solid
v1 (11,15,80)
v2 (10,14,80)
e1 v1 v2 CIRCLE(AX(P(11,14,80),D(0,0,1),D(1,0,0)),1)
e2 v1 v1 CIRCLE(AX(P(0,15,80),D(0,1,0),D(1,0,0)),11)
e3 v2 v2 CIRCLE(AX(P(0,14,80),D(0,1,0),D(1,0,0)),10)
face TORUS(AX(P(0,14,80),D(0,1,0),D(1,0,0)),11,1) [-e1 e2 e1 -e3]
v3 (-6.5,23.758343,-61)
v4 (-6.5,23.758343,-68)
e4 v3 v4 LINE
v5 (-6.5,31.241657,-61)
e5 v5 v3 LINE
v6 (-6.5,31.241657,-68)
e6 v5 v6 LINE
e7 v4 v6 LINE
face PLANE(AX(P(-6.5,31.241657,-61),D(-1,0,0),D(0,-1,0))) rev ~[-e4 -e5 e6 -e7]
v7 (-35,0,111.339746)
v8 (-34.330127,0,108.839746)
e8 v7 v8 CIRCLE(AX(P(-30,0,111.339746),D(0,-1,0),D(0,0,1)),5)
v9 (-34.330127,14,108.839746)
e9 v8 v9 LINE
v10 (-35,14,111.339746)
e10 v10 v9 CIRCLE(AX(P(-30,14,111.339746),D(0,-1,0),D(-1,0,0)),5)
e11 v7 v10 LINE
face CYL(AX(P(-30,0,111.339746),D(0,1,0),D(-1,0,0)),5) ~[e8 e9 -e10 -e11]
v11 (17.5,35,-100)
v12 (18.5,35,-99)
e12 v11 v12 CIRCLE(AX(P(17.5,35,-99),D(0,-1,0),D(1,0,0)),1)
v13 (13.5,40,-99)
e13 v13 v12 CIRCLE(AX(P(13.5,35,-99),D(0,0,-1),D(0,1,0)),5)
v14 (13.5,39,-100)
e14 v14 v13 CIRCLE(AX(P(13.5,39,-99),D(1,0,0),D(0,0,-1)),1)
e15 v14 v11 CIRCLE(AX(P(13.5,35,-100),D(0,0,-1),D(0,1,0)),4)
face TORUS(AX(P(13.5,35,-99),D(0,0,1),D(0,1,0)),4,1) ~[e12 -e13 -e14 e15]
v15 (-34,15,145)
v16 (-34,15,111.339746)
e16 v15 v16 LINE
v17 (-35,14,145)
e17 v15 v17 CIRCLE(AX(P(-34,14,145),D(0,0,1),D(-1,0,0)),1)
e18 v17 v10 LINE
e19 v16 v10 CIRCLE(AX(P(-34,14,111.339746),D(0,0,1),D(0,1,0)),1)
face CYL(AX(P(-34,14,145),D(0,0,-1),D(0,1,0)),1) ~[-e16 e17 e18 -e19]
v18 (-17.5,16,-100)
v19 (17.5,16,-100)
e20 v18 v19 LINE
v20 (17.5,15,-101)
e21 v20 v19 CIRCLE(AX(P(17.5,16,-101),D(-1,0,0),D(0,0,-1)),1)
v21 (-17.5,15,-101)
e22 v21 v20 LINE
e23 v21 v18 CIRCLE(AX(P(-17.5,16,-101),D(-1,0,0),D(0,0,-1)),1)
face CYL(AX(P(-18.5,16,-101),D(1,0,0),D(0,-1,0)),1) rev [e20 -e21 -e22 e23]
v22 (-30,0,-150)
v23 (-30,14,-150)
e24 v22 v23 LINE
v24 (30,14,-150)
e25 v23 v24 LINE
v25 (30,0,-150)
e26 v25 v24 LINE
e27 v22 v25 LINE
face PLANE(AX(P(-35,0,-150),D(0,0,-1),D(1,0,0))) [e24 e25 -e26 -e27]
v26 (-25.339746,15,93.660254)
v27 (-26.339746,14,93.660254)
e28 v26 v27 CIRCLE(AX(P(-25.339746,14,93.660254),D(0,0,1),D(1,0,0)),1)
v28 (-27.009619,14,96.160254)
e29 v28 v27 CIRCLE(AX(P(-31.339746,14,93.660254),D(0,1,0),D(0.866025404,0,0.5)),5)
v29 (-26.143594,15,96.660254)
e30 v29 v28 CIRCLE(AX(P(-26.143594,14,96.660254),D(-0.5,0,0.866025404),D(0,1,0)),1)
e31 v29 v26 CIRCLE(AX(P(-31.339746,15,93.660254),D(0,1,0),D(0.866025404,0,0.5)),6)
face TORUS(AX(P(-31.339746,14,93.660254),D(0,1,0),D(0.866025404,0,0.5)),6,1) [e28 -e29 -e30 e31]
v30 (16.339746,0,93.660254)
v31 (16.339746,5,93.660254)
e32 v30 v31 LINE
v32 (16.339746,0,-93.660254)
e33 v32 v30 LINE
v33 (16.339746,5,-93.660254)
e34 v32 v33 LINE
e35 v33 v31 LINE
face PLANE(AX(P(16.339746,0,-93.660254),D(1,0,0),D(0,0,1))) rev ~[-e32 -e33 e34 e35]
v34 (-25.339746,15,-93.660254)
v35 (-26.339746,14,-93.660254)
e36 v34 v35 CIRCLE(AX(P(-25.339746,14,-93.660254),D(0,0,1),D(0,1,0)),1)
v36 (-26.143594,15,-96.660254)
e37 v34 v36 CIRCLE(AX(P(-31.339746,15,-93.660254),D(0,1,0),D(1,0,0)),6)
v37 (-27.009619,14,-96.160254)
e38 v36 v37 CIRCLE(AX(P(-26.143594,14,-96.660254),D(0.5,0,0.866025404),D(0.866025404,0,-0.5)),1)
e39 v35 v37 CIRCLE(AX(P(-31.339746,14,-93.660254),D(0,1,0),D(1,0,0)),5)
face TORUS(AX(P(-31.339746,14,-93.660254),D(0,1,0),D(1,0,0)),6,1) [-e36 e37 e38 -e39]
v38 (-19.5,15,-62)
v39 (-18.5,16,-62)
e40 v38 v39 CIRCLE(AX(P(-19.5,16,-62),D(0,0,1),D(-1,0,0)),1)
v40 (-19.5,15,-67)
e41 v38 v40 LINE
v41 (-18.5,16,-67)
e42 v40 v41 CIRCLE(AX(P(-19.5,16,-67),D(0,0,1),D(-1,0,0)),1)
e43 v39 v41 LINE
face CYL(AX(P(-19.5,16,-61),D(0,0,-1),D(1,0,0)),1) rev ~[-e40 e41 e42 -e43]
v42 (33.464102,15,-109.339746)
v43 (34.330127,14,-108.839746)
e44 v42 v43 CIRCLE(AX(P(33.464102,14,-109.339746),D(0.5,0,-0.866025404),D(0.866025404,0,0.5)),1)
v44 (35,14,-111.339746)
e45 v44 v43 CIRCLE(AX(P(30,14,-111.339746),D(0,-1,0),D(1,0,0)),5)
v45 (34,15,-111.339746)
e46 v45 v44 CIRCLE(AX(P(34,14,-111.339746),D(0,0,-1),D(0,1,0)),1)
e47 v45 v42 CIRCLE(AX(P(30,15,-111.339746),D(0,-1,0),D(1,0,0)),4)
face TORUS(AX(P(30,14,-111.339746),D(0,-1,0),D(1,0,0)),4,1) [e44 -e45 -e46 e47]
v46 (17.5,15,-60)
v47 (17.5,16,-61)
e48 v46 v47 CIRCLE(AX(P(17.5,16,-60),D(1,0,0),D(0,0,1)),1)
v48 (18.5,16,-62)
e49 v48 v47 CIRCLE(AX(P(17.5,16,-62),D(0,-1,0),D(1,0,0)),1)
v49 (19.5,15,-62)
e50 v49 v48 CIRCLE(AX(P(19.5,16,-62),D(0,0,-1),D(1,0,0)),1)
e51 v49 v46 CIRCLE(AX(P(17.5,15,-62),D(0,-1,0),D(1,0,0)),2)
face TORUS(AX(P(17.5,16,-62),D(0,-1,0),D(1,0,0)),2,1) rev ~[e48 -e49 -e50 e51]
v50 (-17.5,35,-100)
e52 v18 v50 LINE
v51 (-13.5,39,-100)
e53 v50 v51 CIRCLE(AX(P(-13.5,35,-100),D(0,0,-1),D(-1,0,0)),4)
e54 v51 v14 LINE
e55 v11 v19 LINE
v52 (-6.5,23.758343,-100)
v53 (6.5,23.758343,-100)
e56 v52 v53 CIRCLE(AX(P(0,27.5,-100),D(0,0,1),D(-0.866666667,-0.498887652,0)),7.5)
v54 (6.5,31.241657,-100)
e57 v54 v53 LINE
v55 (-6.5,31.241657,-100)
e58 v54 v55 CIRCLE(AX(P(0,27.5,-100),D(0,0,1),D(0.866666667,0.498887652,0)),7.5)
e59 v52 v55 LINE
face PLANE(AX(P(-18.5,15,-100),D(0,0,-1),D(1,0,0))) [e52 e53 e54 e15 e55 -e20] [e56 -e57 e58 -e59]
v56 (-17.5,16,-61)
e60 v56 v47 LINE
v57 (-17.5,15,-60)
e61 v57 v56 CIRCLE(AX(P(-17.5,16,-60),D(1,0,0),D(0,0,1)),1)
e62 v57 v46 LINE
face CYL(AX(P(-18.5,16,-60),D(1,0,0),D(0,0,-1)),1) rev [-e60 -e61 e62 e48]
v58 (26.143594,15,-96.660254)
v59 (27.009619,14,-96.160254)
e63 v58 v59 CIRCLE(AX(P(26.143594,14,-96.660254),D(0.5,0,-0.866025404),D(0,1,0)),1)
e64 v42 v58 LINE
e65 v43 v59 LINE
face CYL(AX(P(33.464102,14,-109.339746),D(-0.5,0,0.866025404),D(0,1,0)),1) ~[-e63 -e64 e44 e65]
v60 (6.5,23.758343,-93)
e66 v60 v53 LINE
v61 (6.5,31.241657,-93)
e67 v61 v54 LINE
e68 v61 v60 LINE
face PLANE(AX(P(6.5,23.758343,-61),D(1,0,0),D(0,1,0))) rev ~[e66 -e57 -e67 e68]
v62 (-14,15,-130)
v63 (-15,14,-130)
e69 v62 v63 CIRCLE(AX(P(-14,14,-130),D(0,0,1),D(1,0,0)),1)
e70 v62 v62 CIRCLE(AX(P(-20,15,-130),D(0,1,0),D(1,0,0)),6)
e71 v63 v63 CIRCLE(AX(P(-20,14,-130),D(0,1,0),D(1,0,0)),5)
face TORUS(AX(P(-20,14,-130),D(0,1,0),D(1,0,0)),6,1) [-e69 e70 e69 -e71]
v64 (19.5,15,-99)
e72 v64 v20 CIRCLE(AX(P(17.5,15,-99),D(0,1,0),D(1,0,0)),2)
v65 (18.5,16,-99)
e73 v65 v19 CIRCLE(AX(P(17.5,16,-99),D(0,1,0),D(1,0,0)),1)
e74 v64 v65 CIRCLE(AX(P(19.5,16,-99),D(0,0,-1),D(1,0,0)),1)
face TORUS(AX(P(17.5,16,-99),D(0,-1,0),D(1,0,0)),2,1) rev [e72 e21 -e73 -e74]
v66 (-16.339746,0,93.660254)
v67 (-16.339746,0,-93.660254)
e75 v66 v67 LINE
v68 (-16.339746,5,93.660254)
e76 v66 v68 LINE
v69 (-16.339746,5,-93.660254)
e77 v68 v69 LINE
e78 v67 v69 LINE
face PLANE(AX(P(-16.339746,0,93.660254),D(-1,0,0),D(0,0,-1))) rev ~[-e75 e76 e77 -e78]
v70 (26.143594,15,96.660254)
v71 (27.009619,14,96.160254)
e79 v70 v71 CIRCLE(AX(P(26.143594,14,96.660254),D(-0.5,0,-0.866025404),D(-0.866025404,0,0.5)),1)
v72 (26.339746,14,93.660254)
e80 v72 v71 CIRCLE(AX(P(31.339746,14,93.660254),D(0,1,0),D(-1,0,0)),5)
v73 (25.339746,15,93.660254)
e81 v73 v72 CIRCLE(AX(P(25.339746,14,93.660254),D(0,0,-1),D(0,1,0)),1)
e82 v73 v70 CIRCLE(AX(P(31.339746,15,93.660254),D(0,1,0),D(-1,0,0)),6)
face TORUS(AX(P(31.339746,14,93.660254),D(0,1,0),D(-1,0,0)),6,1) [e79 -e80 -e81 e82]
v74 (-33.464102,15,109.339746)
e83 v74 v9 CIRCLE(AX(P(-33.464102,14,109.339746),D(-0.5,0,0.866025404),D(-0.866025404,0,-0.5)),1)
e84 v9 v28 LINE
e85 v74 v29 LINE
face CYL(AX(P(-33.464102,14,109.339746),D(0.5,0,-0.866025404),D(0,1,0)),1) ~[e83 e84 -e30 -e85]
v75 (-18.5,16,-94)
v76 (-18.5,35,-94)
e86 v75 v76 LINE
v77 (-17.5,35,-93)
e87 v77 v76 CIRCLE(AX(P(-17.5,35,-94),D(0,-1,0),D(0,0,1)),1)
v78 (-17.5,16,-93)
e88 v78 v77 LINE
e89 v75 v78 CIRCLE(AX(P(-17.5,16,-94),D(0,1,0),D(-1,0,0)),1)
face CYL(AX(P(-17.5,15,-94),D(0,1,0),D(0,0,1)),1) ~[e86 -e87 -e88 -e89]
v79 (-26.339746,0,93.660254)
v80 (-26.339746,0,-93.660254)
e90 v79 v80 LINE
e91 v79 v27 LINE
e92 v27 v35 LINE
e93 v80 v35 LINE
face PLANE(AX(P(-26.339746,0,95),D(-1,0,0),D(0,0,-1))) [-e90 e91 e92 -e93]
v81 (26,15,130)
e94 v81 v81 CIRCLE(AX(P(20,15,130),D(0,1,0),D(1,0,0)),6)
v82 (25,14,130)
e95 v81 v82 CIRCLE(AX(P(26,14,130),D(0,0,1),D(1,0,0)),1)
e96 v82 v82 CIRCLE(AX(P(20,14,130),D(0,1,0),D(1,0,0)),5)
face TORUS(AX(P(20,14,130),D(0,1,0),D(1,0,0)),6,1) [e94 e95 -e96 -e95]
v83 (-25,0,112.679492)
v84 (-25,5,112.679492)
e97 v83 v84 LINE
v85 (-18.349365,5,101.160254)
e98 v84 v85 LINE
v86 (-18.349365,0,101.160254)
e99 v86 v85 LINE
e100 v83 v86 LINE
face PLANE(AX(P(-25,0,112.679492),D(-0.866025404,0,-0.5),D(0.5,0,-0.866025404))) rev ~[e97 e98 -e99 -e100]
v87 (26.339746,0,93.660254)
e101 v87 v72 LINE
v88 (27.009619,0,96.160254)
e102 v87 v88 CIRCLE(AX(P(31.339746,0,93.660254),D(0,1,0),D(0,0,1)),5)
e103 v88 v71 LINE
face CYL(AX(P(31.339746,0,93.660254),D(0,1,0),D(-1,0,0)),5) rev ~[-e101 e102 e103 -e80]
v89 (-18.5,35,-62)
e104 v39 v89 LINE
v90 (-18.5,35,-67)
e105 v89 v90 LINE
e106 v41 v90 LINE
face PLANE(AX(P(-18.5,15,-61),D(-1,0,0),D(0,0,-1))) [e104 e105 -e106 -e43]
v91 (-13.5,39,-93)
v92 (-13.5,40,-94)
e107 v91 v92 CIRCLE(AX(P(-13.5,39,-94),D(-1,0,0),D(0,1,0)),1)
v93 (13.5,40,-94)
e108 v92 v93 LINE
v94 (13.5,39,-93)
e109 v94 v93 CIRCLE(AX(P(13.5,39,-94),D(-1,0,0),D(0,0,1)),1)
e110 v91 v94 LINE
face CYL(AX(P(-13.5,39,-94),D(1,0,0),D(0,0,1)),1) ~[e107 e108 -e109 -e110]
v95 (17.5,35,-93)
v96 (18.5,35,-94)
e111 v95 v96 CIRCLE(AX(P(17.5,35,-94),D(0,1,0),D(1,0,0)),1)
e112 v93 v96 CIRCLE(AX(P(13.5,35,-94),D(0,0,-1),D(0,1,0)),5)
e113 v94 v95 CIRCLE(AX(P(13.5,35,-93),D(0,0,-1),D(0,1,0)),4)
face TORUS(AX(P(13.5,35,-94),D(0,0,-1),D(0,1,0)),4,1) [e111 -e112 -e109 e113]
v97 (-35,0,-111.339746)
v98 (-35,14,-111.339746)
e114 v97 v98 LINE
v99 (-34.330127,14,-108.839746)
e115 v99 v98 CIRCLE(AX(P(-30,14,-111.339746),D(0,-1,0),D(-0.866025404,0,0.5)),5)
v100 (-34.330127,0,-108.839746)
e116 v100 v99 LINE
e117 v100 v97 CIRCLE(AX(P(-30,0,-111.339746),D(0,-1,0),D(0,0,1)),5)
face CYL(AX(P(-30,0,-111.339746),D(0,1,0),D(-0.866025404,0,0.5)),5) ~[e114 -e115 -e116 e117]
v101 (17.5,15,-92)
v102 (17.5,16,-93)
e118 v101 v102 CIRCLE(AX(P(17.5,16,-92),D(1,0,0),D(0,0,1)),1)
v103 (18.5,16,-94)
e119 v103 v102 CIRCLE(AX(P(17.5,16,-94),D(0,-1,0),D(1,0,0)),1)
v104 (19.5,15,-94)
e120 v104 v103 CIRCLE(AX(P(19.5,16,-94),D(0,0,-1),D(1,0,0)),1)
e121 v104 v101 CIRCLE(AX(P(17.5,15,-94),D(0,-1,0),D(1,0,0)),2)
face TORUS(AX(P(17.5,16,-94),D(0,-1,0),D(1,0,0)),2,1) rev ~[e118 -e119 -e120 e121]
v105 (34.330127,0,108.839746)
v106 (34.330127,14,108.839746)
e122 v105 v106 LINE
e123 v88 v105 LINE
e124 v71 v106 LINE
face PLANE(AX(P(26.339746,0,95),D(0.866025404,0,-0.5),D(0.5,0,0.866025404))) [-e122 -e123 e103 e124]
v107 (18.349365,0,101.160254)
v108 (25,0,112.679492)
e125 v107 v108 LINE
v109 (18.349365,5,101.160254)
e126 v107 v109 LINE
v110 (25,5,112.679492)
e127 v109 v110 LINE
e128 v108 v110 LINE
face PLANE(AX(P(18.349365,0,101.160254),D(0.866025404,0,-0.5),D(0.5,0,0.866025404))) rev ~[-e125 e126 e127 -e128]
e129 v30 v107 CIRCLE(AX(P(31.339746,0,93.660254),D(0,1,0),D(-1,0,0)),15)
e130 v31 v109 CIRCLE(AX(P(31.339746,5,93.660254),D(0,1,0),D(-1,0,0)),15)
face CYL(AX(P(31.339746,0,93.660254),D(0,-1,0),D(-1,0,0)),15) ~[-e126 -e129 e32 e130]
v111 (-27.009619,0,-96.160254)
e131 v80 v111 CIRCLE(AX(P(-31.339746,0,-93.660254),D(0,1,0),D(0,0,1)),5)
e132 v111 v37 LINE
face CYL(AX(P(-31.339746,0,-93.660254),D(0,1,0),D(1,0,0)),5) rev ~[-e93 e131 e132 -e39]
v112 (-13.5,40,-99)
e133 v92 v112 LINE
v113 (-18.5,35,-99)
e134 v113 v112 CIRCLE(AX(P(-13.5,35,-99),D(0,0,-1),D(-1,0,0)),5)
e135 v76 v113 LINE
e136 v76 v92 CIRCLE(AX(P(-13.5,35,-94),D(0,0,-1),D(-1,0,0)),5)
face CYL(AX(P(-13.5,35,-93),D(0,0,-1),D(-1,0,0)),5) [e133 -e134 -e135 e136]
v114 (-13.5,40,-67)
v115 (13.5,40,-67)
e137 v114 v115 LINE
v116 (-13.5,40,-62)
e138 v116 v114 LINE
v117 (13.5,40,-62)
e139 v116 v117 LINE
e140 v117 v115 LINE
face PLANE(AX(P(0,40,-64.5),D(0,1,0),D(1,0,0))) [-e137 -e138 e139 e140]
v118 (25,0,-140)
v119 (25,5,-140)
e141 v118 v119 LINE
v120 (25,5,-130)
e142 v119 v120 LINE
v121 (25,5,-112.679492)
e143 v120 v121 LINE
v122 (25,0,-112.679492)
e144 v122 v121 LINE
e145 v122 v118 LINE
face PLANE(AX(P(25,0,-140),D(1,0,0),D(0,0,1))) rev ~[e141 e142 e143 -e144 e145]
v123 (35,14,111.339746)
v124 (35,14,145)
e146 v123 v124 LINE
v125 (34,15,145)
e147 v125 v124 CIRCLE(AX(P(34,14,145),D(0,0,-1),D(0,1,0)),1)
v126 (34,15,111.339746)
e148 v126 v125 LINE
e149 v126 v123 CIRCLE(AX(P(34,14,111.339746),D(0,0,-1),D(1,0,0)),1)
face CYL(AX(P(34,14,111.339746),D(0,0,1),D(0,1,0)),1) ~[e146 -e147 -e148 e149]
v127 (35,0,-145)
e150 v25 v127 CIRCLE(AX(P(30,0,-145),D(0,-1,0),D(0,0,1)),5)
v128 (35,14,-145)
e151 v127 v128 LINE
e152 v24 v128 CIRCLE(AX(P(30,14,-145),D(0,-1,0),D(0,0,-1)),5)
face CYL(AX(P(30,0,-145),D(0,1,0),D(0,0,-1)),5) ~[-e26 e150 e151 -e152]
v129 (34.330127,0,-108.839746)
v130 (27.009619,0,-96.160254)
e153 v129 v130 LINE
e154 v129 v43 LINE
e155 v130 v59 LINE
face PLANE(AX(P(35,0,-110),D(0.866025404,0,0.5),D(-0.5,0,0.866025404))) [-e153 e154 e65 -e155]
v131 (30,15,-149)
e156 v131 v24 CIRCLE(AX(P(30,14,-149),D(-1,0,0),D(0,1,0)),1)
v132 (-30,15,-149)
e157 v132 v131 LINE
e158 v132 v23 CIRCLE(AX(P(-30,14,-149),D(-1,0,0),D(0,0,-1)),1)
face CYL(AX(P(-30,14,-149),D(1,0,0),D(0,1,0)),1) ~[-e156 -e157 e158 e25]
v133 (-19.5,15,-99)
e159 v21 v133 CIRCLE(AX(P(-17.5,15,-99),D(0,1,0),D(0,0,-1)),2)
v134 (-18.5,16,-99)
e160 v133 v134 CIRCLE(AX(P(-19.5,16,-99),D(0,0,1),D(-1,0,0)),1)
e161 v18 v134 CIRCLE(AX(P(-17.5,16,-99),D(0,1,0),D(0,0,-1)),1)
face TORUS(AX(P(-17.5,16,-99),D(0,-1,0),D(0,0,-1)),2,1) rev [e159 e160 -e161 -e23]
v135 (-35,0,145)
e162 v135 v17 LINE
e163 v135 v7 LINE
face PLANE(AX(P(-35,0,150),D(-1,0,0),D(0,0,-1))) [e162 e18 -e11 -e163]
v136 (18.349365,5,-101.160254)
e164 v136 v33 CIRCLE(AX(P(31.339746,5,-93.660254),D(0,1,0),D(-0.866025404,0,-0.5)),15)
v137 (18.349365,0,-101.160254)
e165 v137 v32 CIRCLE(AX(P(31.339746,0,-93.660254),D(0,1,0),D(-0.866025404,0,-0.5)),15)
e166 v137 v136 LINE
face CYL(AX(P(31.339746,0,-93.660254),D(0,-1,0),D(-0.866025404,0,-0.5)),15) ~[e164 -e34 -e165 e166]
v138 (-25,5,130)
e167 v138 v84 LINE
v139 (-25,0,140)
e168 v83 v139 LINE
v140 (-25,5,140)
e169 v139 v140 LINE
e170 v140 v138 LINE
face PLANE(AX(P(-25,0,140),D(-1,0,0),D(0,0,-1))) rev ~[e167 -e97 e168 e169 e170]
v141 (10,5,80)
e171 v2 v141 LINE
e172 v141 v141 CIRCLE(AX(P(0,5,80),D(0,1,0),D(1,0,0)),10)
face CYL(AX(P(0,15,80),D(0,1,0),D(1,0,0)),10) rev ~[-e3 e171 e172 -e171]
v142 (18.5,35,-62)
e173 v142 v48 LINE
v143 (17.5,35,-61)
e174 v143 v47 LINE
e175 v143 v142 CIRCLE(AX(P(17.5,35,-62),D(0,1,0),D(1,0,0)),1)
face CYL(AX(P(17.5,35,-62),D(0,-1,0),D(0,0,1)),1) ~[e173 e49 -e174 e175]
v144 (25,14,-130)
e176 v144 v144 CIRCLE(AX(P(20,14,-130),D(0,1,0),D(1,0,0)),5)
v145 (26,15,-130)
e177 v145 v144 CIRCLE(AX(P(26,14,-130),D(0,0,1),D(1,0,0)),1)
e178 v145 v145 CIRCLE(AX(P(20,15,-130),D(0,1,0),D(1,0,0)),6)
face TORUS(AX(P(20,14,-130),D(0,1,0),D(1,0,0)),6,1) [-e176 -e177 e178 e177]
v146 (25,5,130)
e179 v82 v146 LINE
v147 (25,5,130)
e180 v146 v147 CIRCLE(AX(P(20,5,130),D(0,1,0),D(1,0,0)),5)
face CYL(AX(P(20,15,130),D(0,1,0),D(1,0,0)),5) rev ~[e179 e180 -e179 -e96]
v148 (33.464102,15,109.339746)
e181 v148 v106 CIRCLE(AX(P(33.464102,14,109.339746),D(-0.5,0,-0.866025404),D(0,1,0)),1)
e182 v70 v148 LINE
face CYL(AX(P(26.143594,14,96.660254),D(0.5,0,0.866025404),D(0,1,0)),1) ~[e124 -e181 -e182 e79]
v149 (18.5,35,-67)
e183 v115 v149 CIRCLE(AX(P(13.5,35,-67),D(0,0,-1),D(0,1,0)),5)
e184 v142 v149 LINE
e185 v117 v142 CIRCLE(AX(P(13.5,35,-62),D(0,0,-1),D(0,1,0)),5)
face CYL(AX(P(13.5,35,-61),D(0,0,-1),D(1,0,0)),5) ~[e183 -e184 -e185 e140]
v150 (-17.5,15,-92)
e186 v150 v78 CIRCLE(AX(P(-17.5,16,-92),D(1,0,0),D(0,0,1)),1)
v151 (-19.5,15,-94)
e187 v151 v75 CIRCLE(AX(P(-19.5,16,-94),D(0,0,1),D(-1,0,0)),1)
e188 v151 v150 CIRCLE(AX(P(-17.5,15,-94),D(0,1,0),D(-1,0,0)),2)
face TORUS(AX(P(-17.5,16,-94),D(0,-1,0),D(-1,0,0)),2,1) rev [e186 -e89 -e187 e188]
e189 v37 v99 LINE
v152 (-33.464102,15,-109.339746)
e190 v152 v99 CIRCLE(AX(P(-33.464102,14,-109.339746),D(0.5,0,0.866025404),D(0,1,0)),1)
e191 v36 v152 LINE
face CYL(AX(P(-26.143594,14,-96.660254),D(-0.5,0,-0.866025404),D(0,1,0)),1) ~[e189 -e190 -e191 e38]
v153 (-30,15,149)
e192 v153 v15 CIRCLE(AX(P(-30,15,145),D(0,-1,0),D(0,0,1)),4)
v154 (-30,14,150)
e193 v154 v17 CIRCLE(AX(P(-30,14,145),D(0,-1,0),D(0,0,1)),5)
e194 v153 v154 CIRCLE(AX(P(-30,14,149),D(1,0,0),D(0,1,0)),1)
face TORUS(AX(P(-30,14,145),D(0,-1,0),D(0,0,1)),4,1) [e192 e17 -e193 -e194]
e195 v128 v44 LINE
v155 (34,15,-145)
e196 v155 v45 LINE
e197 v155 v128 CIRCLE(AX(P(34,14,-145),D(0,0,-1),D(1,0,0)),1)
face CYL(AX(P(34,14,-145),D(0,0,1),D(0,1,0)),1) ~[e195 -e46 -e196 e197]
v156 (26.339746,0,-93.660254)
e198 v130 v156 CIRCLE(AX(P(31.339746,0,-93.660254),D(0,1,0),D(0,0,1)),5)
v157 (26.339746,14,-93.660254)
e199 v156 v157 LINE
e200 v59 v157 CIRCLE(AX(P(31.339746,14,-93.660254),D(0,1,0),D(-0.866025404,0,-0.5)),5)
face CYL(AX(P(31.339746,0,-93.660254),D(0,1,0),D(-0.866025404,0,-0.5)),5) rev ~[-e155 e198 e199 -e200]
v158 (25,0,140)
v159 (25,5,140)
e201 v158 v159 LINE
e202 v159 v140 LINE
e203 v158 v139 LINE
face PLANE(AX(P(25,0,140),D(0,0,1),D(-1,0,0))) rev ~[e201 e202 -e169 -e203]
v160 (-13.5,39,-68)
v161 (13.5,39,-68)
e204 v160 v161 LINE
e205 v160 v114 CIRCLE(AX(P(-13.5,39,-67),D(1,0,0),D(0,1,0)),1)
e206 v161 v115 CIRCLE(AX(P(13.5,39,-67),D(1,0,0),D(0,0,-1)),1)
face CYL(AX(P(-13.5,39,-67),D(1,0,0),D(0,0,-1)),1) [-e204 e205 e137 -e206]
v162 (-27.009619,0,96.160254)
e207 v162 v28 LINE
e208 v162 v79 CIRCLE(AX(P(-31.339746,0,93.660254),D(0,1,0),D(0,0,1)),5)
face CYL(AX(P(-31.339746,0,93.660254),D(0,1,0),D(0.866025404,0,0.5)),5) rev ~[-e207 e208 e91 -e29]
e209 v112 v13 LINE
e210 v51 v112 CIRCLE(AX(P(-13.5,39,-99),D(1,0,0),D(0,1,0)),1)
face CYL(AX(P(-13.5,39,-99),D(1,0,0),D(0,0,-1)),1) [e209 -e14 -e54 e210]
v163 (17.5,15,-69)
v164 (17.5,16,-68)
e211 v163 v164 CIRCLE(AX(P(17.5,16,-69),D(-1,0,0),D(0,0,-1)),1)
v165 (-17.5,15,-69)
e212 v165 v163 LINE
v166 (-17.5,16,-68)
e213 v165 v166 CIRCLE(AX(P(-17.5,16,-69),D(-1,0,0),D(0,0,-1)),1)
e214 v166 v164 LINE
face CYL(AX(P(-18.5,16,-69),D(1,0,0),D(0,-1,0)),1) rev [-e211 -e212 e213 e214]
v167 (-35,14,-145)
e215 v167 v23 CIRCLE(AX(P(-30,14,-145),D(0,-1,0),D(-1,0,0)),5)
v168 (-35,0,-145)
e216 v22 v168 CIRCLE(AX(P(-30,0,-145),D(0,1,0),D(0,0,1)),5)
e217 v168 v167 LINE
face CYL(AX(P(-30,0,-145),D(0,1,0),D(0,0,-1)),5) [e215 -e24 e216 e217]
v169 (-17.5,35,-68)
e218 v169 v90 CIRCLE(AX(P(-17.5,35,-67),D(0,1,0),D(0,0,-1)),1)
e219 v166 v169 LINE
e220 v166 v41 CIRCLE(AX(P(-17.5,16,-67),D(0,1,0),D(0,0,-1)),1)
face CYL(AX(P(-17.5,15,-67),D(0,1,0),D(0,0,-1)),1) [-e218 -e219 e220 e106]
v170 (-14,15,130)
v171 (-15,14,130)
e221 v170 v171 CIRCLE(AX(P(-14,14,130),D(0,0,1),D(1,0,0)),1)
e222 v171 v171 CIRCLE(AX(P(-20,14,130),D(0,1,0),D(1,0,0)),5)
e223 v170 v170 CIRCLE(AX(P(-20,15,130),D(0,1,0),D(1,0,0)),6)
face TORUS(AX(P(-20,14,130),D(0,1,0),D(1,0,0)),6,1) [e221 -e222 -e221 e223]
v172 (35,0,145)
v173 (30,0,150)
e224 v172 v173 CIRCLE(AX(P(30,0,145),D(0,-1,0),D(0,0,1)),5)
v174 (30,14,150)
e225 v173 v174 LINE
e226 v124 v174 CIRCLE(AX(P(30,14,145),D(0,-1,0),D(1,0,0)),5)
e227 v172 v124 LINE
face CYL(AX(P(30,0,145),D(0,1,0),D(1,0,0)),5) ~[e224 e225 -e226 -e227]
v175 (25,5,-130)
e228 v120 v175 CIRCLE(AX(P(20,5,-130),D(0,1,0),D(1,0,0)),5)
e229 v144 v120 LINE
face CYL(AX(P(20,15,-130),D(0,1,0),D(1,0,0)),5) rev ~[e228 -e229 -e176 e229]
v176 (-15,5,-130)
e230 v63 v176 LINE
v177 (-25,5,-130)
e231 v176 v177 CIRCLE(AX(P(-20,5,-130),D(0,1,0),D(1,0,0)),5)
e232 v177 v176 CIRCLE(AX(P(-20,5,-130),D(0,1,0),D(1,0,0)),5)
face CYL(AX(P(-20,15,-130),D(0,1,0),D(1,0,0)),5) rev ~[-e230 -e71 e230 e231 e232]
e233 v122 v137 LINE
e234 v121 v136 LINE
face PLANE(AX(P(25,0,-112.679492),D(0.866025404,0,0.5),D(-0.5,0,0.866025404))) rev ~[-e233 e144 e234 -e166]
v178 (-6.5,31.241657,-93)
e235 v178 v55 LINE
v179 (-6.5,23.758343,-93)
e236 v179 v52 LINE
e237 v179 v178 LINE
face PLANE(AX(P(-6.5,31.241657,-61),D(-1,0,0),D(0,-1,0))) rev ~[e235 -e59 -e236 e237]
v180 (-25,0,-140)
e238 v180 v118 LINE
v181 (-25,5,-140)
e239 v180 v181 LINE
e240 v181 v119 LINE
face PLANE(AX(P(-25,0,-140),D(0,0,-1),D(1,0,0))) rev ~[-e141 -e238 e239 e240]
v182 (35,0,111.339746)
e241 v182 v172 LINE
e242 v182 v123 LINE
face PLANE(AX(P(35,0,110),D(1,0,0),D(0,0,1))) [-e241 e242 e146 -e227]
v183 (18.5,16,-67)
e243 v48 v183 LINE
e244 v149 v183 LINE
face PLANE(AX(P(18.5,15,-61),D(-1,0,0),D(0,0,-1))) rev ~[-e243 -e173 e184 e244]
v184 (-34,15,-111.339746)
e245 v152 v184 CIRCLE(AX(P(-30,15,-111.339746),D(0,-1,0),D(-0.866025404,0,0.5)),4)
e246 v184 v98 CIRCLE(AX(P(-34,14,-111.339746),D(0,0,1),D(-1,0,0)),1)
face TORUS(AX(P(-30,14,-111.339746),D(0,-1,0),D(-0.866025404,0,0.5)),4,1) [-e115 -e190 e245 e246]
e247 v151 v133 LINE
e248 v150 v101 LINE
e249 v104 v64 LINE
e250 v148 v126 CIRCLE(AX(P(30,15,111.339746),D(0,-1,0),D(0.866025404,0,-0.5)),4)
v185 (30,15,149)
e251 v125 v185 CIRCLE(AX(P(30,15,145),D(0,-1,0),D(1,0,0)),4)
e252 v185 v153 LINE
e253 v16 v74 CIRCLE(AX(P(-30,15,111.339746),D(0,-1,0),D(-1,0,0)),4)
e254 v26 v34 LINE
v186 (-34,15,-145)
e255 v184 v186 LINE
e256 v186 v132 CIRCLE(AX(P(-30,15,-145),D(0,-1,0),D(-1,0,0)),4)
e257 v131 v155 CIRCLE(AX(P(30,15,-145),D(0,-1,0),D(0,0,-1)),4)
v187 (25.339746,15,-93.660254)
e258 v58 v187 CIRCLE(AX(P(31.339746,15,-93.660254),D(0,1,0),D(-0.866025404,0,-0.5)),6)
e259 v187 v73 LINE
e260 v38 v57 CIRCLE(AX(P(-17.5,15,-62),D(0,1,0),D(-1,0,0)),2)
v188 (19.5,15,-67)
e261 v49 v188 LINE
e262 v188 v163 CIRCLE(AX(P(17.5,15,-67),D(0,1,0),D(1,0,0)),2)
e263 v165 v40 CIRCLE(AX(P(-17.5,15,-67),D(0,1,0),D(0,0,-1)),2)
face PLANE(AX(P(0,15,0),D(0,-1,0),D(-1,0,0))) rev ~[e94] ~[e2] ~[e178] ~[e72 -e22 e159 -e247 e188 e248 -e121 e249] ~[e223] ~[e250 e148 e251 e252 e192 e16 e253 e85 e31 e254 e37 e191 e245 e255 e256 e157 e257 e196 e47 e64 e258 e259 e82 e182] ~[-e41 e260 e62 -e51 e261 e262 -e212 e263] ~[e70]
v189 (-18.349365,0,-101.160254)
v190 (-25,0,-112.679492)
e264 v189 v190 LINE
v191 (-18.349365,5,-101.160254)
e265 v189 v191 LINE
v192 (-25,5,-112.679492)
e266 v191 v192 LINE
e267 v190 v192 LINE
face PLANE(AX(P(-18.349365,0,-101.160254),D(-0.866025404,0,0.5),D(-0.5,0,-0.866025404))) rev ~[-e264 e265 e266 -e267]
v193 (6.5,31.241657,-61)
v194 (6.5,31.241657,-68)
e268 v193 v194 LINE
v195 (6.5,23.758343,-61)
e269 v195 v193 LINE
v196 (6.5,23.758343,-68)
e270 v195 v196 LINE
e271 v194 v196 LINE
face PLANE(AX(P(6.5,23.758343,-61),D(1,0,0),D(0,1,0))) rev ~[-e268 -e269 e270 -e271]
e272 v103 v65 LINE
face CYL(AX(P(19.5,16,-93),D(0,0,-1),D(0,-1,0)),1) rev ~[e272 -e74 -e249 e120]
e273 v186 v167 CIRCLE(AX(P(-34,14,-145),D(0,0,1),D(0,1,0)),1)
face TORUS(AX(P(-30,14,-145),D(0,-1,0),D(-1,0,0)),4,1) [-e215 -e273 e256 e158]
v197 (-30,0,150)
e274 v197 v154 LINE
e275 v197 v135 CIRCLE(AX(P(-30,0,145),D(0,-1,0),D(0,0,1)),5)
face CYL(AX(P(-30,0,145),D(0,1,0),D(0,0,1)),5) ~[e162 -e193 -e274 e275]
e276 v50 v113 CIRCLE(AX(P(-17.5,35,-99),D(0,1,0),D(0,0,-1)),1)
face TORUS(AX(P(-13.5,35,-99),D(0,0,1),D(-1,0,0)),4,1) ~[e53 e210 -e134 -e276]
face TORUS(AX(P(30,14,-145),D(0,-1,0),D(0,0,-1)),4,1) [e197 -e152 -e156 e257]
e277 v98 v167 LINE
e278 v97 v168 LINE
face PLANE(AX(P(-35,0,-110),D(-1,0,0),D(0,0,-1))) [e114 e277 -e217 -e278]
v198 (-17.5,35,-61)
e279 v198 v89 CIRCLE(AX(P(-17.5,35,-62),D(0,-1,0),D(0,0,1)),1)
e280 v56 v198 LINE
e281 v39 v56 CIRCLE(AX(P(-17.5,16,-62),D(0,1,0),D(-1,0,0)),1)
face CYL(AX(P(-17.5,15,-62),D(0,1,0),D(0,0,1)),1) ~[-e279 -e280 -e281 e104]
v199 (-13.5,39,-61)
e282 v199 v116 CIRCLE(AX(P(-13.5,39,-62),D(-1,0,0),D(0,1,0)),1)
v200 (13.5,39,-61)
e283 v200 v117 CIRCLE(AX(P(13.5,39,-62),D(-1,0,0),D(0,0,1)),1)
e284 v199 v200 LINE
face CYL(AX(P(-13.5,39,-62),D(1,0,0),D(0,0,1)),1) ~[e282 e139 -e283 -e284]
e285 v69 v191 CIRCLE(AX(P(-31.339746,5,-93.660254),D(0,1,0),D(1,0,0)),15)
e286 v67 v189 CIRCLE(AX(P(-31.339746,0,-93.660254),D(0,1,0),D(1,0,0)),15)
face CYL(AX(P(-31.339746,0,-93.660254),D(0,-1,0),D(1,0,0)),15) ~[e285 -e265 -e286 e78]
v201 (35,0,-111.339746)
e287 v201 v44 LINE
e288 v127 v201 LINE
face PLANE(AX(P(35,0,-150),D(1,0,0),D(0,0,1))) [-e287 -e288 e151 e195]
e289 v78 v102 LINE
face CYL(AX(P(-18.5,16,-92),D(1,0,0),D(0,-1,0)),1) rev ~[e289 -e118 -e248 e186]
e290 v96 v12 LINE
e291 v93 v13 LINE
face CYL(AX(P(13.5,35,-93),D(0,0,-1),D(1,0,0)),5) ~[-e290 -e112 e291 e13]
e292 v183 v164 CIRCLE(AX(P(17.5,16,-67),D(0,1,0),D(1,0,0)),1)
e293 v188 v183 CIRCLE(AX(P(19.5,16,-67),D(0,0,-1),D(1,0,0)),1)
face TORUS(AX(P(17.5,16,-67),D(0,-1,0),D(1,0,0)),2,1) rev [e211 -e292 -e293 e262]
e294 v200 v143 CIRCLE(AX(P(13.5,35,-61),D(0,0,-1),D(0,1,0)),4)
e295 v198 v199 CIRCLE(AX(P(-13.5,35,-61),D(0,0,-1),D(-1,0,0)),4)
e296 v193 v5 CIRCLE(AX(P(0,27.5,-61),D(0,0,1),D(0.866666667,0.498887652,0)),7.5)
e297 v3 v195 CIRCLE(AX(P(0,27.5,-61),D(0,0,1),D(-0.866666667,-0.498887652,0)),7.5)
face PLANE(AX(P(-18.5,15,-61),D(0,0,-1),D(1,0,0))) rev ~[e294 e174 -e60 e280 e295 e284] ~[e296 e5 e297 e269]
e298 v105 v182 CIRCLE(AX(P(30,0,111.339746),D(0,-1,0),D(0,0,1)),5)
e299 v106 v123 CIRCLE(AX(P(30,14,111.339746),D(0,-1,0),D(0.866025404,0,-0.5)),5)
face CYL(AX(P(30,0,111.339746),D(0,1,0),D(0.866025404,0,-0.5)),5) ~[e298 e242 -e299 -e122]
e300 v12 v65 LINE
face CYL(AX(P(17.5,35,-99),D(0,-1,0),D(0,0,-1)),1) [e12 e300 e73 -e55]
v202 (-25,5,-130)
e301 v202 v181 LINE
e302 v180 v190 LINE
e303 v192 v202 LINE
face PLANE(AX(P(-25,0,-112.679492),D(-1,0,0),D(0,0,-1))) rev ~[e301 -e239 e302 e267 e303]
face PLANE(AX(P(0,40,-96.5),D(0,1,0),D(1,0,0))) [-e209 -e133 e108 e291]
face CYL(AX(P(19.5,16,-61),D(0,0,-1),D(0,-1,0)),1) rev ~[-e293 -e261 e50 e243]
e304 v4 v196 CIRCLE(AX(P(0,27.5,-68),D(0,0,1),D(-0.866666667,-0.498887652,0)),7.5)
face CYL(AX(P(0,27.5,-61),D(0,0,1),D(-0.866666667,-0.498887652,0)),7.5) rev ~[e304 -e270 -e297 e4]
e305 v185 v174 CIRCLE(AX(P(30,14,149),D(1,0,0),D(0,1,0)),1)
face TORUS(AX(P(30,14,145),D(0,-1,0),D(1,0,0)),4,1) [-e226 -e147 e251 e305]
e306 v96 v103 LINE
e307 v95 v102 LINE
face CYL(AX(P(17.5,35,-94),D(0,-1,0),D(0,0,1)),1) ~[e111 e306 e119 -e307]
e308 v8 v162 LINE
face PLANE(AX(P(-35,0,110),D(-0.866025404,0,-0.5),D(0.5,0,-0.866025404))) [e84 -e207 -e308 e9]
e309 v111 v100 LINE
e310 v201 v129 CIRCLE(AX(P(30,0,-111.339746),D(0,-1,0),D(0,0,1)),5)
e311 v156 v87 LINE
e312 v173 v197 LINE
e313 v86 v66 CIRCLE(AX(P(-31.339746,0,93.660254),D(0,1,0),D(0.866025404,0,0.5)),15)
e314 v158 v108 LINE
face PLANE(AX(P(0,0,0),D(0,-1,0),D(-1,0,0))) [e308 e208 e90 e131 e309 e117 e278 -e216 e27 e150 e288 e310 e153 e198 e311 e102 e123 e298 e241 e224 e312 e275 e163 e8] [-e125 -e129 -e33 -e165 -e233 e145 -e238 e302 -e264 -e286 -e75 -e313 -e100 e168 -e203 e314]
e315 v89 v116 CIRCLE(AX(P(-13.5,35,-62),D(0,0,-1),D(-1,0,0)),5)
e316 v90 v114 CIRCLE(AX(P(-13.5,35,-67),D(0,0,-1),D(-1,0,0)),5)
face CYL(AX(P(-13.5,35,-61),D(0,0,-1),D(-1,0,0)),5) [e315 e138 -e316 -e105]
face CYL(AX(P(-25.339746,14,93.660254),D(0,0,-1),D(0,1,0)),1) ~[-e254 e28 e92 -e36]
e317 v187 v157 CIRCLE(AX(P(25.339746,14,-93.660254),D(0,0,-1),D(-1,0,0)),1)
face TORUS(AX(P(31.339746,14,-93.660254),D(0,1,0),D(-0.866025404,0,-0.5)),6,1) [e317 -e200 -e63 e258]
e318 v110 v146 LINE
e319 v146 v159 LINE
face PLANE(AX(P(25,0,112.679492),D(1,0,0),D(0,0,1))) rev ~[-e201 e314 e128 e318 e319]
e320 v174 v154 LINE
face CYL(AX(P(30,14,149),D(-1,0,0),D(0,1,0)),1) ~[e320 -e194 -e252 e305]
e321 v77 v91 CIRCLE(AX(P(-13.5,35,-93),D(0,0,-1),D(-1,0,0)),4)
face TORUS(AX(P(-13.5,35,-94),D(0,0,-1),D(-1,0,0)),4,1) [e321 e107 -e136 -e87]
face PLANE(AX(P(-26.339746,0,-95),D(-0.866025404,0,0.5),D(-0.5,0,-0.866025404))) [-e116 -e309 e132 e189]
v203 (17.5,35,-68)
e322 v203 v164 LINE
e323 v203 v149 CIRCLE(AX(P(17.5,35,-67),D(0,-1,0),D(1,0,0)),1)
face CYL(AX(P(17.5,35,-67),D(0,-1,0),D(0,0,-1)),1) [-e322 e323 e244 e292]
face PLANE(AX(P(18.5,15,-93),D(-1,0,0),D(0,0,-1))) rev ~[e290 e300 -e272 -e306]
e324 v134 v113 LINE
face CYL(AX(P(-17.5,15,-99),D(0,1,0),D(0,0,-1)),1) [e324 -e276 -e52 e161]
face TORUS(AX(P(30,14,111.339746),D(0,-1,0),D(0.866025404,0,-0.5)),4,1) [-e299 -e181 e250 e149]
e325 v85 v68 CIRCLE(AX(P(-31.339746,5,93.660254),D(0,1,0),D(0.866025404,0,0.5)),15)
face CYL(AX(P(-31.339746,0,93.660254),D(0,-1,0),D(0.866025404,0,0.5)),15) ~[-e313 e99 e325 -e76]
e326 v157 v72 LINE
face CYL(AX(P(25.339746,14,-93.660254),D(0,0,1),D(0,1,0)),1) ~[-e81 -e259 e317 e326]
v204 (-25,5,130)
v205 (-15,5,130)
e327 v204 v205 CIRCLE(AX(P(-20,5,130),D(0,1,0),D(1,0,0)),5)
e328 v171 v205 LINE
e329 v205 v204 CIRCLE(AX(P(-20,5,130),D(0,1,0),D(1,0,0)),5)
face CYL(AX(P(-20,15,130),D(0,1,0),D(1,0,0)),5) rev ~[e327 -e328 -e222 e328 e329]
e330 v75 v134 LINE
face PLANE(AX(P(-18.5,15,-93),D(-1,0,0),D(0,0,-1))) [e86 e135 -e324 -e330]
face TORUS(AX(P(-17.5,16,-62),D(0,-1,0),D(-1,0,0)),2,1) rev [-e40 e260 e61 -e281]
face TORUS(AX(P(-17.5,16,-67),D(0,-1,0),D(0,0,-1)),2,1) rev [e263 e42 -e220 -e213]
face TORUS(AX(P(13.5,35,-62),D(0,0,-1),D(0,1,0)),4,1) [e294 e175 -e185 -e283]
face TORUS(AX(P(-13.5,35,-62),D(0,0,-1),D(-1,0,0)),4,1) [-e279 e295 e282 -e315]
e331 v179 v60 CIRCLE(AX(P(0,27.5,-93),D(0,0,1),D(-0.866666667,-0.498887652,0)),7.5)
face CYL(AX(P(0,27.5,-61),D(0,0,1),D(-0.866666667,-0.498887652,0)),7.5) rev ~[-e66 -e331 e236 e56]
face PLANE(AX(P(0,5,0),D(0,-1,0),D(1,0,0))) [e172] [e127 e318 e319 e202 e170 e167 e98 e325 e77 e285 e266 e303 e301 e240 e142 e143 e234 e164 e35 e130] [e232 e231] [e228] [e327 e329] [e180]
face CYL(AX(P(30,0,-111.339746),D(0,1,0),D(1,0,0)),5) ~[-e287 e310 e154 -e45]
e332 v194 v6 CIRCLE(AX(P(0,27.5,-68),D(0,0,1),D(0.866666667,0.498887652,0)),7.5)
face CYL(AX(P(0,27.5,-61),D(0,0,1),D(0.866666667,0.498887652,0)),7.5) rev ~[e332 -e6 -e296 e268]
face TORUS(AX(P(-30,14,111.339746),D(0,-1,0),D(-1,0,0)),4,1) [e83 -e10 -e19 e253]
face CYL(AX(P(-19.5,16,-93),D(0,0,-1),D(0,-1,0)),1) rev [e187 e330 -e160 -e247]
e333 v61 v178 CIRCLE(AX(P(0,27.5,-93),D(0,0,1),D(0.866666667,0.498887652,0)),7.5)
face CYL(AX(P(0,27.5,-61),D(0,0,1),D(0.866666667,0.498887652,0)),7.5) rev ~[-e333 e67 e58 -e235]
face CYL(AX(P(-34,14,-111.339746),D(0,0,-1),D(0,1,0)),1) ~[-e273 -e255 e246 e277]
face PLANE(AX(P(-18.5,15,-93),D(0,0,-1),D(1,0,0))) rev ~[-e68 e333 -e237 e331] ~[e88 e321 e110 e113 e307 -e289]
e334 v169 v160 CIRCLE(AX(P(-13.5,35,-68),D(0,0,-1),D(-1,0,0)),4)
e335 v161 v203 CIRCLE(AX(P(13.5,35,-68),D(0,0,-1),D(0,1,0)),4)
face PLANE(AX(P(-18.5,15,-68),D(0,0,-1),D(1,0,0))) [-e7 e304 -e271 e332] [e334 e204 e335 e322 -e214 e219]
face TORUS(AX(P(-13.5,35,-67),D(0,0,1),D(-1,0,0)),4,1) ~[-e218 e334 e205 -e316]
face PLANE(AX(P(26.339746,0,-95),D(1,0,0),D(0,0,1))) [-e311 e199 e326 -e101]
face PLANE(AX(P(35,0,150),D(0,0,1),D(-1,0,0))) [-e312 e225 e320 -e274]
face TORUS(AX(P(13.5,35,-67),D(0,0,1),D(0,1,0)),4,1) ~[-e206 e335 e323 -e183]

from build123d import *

# Parameters (mm, degrees)
BOSS_EXTRUDE1_DEPTH     = 15
FILLET1_R               = 5
CUT_EXTRUDE1_DEPTH      = 5
SKETCH3_W               = 37
SKETCH3_H               = 7
BOSS_EXTRUDE2_DEPTH     = 25
FILLET2_R               = 5
FILLET3_R               = 1
CUT_EXTRUDE2_DEPTH      = 212
CUT_EXTRUDE2_DEPTH_BACK = 90
SKETCH6_R               = 5
SKETCH6_R_2             = 10
CUT_EXTRUDE3_DEPTH      = 26.0000001
CUT_EXTRUDE3_DEPTH_BACK = 16
FILLET4_R               = 1


with BuildPart() as part:
    # Sketch1 → Boss-Extrude1 (new body)
    with BuildSketch(Plane(origin=(0, 0, 0), x_dir=(1, 0, 0), z_dir=(0, 1, 0))):
        Polygon((-35, 150), (35, 150), (35, 110), (26.339745962, 95), (26.339745962, -95), (35, -110), (35, -150), (-35, -150), (-35, -110), (-26.339745962, -95), (-26.339745962, 95), (-35, 110), align=None)
    extrude(amount=BOSS_EXTRUDE1_DEPTH)

    # Fillet1
    fillet1_edges = [part.edges().sort_by_distance(p)[0] for p in [
        (35, 7.5, 150),
        (-35, 7.5, 150),
        (-35, 7.5, 110),
        (-26.339745962, 7.5, 95),
        (-26.339745962, 7.5, -95),
        (-35, 7.5, -110),
        (-35, 7.5, -150),
        (35, 7.5, -150),
        (35, 7.5, -110),
        (26.339745962, 7.5, -95),
        (26.339745962, 7.5, 95),
        (35, 7.5, 110),
    ]]
    fillet(fillet1_edges, radius=FILLET1_R)

    # Sketch2 → Cut-Extrude1 (cut)
    with BuildSketch(Plane.XZ):
        with BuildLine():
            Line((25, 140), (-25, 140))
            Line((-25, 140), (-25, 112.679491924))
            Line((-25, 112.679491924), (-18.349364905, 101.160254038))
            ThreePointArc((-18.349364905, 101.160254038), (-16.850858568, 97.542539714), (-16.339745962, 93.660254038))
            Line((-16.339745962, 93.660254038), (-16.339745962, -93.660254038))
            ThreePointArc((-16.339745962, -93.660254038), (-16.850858568, -97.542539714), (-18.349364905, -101.160254038))
            Line((-18.349364905, -101.160254038), (-25, -112.679491924))
            Line((-25, -112.679491924), (-25, -140))
            Line((-25, -140), (25, -140))
            Line((25, -140), (25, -112.679491924))
            Line((25, -112.679491924), (18.349364905, -101.160254038))
            ThreePointArc((18.349364905, -101.160254038), (16.850858568, -97.542539714), (16.339745962, -93.660254038))
            Line((16.339745962, -93.660254038), (16.339745962, 93.660254038))
            ThreePointArc((16.339745962, 93.660254038), (16.850858568, 97.542539714), (18.349364905, 101.160254038))
            Line((18.349364905, 101.160254038), (25, 112.679491924))
            Line((25, 112.679491924), (25, 140))
        make_face()
    extrude(amount=-CUT_EXTRUDE1_DEPTH, mode=Mode.SUBTRACT)

    # Sketch3 → Boss-Extrude2 (add)
    with BuildSketch(Plane(origin=(0, 15, 0), x_dir=(1, 0, 0), z_dir=(0, 1, 0))):
        with Locations((0, 96.5)):
            Rectangle(SKETCH3_W, SKETCH3_H)
        with Locations((0, 64.5)):
            Rectangle(SKETCH3_W, SKETCH3_H)
    extrude(amount=BOSS_EXTRUDE2_DEPTH)

    # Fillet2
    fillet2_edges = [part.edges().sort_by_distance(p)[0] for p in [
        (18.5, 40, -96.5),
        (-18.5, 40, -96.5),
        (18.5, 40, -64.5),
        (-18.5, 40, -64.5),
    ]]
    fillet(fillet2_edges, radius=FILLET2_R)

    # Fillet3
    fillet3_edges = [part.edges().sort_by_distance(p)[0] for p in [
        (18.5, 15, -96.5),
        (0, 15, -100),
        (-18.5, 15, -96.5),
        (0, 15, -93),
        (18.5, 15, -64.5),
        (0, 15, -68),
        (-18.5, 15, -64.5),
        (0, 15, -61),
        (0, 40, -68),
        (0, 40, -61),
        (-18.5, 25, -68),
        (18.5, 25, -68),
        (-17.035533906, 38.535533906, -68),
        (17.035533906, 38.535533906, -68),
        (18.5, 25, -61),
        (-18.5, 25, -61),
        (-17.035533906, 38.535533906, -61),
        (17.035533906, 38.535533906, -61),
        (0, 40, -100),
        (0, 40, -93),
        (-18.5, 25, -100),
        (18.5, 25, -100),
        (-17.035533906, 38.535533906, -100),
        (17.035533906, 38.535533906, -100),
        (18.5, 25, -93),
        (-18.5, 25, -93),
        (-17.035533906, 38.535533906, -93),
        (17.035533906, 38.535533906, -93),
    ]]
    fillet(fillet3_edges, radius=FILLET3_R)

    # Sketch5 → Cut-Extrude2 (cut, two sides)
    with BuildSketch(Plane.XY.offset(-61)) as cut_extrude2_sk:
        with BuildLine():
            Line((-6.5, 31.241657387), (-6.5, 23.758342613))
            ThreePointArc((-6.5, 23.758342613), (0, 20), (6.5, 23.758342613))
            Line((6.5, 23.758342613), (6.5, 31.241657387))
            ThreePointArc((6.5, 31.241657387), (0, 35), (-6.5, 31.241657387))
        make_face()
    extrude(amount=CUT_EXTRUDE2_DEPTH, mode=Mode.SUBTRACT)
    extrude(cut_extrude2_sk.sketch, amount=-CUT_EXTRUDE2_DEPTH_BACK, mode=Mode.SUBTRACT)

    # Sketch6 → Cut-Extrude3 (cut, two sides)
    with BuildSketch(Plane(origin=(0, 15, 0), x_dir=(1, 0, 0), z_dir=(0, 1, 0))) as cut_extrude3_sk:
        with Locations((-20, 130)):
            Circle(SKETCH6_R)
        with Locations((20, 130)):
            Circle(SKETCH6_R)
        with Locations((20, -130)):
            Circle(SKETCH6_R)
        with Locations((-20, -130)):
            Circle(SKETCH6_R)
        with Locations((0, -80)):
            Circle(SKETCH6_R_2)
    extrude(amount=CUT_EXTRUDE3_DEPTH, mode=Mode.SUBTRACT)
    extrude(cut_extrude3_sk.sketch, amount=-CUT_EXTRUDE3_DEPTH_BACK, mode=Mode.SUBTRACT)

    # Fillet4
    fillet4_edges = [part.edges().sort_by_distance(p)[0] for p in [
        (-10, 15, 80),
        (-25, 15, 130),
        (15, 15, 130),
        (15, 15, -130),
        (-25, 15, -130),
        (0, 15, 150),
        (-35, 15, 128.169872981),
        (35, 15, 128.169872981),
        (30.669872981, 15, 102.5),
        (26.339745962, 15, 0),
        (30.669872981, 15, -102.5),
        (35, 15, -128.169872981),
        (0, 15, -150),
        (-35, 15, -128.169872981),
        (-30.669872981, 15, -102.5),
        (-26.339745962, 15, 0),
        (-30.669872981, 15, 102.5),
        (33.535533906, 15, 148.535533906),
        (34.829629131, 15, 110.045650737),
        (34.829629131, 15, -110.045650737),
        (33.535533906, 15, -148.535533906),
        (-33.535533906, 15, -148.535533906),
        (-34.829629131, 15, -110.045650737),
        (-34.829629131, 15, 110.045650737),
        (-33.535533906, 15, 148.535533906),
        (-26.510116831, 15, 94.954349263),
        (-26.510116831, 15, -94.954349263),
        (26.510116831, 15, -94.954349263),
        (26.510116831, 15, 94.954349263),
    ]]
    fillet(fillet4_edges, radius=FILLET4_R)


solid = part.part
